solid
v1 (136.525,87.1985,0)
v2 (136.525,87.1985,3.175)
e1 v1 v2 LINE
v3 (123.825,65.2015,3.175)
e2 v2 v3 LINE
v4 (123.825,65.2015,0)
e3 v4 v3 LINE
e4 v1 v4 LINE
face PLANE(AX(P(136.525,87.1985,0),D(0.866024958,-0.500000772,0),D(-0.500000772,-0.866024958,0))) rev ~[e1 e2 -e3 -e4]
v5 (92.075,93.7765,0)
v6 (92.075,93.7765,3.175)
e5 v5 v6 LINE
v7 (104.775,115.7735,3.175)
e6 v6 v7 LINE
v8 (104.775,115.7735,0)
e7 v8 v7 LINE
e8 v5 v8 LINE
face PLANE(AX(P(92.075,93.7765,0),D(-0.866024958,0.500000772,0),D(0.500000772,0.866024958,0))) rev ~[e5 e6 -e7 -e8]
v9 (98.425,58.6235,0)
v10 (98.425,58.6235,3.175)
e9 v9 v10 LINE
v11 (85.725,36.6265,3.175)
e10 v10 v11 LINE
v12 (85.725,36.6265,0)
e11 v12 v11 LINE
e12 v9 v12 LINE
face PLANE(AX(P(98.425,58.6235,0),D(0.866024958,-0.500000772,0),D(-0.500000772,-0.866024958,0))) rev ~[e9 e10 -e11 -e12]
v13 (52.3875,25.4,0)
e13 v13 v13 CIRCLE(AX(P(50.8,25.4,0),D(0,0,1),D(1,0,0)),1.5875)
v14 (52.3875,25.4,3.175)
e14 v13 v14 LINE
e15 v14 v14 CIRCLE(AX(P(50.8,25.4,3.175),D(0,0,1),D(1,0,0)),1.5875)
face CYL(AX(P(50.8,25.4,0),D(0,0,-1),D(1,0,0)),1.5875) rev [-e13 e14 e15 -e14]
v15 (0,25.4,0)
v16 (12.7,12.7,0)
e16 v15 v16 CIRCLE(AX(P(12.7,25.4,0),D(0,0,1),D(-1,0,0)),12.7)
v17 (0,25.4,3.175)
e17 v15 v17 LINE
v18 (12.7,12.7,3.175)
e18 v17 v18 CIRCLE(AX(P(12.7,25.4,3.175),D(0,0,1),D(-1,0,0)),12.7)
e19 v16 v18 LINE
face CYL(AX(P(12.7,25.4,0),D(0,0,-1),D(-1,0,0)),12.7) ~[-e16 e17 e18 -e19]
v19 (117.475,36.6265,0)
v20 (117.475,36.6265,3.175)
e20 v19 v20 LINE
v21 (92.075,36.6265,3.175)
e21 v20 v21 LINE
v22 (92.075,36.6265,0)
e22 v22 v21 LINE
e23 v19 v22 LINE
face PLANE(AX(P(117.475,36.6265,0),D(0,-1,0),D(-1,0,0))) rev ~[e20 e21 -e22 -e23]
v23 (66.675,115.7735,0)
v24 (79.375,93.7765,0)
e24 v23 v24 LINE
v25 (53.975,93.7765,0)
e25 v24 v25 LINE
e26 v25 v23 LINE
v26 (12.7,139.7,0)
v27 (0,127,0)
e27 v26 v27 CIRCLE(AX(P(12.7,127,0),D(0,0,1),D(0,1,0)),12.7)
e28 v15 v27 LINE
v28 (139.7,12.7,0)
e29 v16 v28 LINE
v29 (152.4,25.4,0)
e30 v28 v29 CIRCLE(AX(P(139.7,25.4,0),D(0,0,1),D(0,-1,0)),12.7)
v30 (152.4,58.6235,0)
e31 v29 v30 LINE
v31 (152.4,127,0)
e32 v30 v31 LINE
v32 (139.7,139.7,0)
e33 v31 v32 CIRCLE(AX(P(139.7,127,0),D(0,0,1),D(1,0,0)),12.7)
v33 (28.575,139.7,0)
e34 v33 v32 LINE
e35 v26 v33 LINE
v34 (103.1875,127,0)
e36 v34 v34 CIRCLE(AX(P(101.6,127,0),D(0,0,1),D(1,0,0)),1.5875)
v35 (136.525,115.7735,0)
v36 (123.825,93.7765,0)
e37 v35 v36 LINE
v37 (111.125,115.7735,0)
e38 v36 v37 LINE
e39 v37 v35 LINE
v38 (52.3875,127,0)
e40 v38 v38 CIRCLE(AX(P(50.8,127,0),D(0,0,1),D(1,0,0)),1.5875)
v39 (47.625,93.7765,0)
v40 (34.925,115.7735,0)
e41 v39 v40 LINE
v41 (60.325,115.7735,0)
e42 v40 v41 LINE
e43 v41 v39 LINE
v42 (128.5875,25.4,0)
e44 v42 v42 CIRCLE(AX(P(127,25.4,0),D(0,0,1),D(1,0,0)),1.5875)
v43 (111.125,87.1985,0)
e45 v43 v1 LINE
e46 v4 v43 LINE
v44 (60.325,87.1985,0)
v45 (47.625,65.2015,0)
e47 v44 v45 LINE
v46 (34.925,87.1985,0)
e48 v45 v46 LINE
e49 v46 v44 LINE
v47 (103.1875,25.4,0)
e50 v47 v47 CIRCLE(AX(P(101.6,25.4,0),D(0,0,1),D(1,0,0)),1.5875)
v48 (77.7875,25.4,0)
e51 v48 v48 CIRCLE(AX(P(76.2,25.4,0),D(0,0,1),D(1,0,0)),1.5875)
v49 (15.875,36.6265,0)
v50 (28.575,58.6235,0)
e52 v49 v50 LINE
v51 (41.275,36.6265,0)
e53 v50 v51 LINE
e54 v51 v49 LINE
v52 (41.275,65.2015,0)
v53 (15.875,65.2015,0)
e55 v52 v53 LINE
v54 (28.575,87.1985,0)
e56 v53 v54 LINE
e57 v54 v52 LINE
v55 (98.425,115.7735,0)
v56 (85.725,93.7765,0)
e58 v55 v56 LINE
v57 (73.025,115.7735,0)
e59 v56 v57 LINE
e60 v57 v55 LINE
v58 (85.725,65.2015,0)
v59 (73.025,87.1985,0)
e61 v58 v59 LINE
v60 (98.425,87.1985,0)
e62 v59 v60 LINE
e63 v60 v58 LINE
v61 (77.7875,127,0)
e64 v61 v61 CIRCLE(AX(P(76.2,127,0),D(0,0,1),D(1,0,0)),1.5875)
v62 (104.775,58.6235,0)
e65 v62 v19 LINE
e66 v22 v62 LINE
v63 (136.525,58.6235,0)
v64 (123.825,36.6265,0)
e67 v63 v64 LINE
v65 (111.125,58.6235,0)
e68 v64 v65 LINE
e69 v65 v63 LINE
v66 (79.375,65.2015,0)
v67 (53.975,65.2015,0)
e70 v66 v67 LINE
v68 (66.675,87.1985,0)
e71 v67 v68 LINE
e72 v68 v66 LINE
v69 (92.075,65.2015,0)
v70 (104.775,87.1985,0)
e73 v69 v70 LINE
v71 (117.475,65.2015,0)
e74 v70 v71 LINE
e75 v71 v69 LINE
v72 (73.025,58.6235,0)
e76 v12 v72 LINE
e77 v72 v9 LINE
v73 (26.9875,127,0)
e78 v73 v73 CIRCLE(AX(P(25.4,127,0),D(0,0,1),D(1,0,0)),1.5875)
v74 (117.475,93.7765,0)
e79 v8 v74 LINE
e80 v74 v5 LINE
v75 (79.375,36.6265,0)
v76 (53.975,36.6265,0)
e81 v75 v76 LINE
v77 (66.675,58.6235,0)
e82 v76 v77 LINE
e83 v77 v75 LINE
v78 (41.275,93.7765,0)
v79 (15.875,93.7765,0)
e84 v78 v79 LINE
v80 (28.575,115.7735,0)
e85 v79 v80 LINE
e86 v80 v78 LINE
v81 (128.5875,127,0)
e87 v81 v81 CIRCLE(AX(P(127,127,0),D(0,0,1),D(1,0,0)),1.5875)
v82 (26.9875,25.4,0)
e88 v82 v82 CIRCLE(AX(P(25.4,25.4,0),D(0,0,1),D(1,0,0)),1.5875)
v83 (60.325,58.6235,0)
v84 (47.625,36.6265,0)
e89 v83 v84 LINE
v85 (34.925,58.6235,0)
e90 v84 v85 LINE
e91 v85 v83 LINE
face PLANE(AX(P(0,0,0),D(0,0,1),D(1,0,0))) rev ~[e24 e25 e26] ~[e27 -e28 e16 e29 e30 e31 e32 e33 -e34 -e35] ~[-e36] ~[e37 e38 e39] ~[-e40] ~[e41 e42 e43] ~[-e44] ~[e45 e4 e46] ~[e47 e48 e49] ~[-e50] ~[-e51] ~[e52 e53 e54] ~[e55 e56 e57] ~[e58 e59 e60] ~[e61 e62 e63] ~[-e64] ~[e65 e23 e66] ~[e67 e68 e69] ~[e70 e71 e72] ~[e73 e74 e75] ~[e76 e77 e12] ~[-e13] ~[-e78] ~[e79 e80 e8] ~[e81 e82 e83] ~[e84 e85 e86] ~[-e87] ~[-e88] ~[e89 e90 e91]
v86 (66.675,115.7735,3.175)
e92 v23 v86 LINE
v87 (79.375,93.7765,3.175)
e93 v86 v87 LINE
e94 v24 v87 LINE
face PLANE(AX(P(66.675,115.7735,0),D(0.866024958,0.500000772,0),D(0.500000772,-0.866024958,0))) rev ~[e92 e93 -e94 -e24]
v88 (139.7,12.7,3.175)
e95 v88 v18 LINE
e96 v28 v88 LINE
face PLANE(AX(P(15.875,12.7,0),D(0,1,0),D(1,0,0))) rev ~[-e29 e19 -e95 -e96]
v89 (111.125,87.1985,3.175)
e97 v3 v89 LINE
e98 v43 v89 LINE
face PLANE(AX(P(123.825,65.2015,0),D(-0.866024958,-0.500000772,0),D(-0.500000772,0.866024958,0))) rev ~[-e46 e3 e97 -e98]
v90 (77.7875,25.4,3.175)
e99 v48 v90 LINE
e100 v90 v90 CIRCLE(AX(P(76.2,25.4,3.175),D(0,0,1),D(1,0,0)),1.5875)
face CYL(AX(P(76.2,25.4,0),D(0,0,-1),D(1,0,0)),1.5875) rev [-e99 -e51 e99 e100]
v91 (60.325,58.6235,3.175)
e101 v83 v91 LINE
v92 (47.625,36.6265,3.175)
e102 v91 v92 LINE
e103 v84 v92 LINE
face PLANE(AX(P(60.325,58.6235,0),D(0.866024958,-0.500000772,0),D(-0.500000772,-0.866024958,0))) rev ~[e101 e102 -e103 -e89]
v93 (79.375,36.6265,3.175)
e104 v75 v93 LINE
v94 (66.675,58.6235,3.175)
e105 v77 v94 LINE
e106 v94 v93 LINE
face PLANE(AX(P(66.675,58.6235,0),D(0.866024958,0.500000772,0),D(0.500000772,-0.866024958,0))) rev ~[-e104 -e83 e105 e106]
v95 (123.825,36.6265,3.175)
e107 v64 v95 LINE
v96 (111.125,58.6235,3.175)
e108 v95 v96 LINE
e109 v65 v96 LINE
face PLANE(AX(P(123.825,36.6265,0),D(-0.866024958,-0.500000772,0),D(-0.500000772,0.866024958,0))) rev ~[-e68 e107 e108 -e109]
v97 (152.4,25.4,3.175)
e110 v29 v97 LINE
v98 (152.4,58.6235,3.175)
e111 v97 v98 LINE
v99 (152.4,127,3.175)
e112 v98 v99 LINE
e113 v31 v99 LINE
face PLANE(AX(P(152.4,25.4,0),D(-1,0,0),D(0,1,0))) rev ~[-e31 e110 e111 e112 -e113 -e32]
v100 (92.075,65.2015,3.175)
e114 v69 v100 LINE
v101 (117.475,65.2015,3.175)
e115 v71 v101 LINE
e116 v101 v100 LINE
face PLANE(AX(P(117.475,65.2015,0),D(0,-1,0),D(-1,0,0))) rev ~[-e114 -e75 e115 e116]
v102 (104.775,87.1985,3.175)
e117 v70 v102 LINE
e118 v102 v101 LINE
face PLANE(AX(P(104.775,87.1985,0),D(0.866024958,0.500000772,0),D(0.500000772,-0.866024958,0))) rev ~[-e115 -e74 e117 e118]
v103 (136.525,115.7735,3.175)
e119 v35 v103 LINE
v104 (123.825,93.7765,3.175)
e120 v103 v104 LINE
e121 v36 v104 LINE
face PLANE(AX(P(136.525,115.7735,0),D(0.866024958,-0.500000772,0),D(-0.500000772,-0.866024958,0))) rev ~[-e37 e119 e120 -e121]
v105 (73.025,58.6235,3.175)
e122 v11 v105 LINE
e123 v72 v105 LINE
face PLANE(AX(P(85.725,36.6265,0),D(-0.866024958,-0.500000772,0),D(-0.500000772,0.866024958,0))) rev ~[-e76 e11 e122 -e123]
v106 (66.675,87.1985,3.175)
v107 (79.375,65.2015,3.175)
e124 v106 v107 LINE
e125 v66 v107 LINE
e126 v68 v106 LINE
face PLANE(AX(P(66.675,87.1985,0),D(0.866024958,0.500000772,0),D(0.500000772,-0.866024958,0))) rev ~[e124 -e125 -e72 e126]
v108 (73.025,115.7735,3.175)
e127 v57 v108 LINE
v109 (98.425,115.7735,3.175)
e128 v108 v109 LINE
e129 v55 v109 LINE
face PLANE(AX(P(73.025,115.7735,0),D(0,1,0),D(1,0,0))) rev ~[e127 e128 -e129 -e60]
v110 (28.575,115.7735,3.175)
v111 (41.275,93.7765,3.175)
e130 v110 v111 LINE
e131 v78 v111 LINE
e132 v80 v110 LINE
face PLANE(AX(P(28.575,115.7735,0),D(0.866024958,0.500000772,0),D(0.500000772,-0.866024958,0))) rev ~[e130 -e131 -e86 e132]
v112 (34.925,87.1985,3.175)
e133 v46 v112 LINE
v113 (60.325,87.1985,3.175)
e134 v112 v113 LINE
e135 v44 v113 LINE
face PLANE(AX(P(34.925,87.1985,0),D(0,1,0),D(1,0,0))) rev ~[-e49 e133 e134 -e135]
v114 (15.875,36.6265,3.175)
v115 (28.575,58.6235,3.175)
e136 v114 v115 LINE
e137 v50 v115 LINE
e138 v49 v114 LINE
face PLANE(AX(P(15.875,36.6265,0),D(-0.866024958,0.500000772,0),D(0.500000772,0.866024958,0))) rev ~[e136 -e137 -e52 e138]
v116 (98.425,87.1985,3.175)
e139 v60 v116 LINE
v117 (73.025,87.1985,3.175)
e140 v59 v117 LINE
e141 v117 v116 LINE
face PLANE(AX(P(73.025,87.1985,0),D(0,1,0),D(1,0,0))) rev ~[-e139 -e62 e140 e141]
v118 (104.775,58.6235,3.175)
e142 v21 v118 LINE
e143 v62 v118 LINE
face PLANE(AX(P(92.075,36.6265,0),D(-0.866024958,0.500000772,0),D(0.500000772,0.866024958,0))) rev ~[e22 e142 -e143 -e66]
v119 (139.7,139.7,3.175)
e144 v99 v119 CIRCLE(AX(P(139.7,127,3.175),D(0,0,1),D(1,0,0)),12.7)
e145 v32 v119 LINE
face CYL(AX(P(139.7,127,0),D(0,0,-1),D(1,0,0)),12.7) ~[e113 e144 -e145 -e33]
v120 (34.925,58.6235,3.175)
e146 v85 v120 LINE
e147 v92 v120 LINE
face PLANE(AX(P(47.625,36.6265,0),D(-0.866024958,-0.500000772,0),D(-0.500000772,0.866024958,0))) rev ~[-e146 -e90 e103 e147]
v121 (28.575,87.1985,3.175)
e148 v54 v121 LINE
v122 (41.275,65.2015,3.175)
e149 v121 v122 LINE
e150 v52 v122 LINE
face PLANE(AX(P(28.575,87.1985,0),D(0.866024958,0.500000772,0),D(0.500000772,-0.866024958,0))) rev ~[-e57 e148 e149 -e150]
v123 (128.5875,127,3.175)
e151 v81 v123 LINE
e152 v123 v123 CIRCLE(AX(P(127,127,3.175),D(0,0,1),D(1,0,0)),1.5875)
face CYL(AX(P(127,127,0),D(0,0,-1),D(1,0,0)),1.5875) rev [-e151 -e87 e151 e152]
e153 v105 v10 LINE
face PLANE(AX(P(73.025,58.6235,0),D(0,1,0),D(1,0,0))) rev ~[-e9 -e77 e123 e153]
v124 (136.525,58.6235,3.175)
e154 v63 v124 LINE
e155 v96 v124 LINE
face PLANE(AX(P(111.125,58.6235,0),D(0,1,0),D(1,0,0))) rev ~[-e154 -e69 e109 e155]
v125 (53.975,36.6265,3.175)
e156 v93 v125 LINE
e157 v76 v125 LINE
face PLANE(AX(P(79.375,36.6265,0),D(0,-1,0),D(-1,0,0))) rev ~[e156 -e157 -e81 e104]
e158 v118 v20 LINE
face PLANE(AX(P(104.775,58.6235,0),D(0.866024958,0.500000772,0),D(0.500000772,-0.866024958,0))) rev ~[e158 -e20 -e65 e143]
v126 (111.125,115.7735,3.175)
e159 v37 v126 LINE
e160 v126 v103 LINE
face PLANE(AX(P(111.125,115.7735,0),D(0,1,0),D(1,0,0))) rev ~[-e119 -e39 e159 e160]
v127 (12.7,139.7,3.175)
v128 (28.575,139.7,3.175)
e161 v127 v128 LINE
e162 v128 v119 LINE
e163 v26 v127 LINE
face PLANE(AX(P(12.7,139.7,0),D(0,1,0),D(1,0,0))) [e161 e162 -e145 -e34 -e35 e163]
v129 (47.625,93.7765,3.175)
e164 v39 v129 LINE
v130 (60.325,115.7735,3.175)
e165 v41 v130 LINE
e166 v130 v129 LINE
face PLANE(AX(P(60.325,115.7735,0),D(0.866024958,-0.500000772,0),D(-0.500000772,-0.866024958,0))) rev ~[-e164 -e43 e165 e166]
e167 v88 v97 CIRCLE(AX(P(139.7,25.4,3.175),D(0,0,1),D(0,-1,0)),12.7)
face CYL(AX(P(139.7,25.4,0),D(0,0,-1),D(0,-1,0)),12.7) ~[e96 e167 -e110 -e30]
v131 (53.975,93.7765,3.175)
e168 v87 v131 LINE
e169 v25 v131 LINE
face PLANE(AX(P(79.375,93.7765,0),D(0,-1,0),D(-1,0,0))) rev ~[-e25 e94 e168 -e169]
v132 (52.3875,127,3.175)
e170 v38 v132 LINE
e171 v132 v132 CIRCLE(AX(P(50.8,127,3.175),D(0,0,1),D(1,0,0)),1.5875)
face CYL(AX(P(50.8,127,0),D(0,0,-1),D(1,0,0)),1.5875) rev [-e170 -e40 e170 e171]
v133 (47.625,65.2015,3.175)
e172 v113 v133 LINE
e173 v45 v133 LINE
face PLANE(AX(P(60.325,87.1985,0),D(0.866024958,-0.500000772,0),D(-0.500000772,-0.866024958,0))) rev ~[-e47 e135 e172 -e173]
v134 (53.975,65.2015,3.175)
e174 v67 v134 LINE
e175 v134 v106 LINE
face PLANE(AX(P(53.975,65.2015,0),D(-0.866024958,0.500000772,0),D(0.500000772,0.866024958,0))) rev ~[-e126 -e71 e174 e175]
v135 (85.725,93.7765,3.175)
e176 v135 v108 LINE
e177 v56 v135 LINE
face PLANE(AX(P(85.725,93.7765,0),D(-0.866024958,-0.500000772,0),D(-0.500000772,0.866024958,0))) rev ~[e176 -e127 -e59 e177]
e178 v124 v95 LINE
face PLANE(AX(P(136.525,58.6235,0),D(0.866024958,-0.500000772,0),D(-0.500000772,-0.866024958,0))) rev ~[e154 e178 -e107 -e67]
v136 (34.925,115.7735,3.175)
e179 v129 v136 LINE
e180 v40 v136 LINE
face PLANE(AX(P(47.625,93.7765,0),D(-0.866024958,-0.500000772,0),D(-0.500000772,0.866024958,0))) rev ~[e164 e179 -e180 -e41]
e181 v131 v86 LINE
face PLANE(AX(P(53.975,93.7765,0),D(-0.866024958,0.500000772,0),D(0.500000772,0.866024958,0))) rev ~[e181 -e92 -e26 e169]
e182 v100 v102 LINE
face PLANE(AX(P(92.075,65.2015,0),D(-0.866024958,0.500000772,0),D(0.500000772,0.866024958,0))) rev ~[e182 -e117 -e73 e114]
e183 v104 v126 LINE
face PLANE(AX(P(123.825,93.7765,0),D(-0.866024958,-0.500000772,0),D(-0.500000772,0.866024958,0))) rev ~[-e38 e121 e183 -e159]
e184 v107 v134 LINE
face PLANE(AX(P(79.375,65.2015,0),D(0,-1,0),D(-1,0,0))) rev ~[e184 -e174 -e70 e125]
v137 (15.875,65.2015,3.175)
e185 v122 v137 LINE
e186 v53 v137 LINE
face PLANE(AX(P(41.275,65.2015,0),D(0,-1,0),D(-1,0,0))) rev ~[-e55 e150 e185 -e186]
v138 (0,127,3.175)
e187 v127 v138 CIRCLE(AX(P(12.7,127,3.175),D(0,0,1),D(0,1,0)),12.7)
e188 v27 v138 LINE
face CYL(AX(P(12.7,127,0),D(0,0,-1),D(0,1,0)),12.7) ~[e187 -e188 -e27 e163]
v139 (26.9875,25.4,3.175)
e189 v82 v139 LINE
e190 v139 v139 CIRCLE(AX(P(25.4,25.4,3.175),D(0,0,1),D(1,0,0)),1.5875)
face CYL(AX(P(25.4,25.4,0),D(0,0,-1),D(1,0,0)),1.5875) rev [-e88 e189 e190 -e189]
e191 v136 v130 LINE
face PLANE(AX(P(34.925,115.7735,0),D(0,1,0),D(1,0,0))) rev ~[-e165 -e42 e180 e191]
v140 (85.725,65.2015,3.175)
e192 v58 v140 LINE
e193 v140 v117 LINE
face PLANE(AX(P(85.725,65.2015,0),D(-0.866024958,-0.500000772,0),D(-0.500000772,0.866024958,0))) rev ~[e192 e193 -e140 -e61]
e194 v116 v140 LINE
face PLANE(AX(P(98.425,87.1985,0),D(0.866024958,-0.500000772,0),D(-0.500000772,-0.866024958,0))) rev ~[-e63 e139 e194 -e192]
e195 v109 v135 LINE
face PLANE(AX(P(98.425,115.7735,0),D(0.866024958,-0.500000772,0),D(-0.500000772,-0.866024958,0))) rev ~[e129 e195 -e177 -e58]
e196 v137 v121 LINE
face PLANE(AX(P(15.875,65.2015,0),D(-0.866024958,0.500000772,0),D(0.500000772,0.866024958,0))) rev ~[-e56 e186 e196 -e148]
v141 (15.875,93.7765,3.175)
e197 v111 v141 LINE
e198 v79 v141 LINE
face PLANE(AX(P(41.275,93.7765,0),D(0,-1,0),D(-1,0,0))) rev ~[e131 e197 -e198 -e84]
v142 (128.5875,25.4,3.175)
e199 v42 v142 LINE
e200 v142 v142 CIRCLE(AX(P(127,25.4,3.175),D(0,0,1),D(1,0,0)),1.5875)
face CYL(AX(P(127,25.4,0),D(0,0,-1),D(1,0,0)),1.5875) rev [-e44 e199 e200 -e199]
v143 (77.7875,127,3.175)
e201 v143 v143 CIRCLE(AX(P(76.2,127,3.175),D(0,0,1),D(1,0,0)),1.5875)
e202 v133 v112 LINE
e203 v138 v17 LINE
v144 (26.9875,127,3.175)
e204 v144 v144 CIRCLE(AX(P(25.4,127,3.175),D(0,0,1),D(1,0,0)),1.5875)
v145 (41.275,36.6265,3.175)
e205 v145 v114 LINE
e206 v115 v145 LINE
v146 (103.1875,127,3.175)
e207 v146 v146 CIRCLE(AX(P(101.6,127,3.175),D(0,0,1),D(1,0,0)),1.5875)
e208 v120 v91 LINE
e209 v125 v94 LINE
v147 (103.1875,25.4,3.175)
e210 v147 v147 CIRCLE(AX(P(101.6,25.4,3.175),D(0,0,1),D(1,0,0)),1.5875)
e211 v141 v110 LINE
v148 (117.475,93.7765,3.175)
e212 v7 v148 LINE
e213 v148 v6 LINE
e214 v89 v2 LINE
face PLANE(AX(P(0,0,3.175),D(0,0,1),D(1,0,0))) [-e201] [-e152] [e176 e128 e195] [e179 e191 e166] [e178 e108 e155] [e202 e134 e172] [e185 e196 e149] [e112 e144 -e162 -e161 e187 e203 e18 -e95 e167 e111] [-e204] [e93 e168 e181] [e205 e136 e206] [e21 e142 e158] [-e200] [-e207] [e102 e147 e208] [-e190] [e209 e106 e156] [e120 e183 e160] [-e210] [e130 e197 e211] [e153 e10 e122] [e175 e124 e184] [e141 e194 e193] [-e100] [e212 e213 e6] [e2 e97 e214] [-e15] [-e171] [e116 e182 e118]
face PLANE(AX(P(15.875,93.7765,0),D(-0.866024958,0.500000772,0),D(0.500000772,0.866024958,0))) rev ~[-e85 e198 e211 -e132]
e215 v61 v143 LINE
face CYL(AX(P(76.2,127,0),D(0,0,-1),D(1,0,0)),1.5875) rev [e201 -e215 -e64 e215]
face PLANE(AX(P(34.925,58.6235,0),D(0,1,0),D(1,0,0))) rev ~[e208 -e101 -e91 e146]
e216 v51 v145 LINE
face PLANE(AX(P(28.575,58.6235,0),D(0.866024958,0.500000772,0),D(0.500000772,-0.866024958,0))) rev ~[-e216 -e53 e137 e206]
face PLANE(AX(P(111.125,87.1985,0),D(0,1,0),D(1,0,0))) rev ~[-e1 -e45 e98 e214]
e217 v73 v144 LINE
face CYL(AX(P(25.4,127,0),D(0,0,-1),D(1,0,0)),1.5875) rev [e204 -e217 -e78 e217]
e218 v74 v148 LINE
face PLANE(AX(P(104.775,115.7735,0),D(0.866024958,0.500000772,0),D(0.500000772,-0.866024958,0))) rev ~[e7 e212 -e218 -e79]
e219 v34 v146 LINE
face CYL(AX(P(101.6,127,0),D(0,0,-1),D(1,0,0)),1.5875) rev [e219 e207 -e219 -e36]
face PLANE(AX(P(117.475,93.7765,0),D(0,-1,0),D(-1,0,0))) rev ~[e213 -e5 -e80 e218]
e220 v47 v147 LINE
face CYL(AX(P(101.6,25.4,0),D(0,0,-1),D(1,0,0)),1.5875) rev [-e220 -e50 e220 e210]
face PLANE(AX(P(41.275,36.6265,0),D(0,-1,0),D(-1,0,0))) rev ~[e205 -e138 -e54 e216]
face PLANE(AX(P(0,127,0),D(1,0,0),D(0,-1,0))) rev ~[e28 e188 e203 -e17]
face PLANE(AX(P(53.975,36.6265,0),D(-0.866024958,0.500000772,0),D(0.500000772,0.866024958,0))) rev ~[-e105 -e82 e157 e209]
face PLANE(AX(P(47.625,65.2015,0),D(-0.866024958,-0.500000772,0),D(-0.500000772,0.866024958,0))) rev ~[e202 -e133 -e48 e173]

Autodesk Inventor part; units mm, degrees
ref_plane "YZ Plane" through (0, 0, 0) normal (1, 0, 0) x (0, 1, 0)
ref_plane "XZ Plane" through (0, 0, 0) normal (0, 1, 0) x (-1, 0, 0)
ref_plane "XY Plane" through (0, 0, 0) normal (0, 0, 1) x (1, 0, 0)
sketch "Sketch1" plane through (0, 0, 0) normal (0, 0, 1) x (1, 0, 0)
  line L0 (0, 0) -> (152.4, 0)
  line L1 (152.4, 25.4) -> (152.4, 127)
  line L2 (152.4, 152.4) -> (0, 152.4)
  line L3 (0, 127) -> (0, 25.4)
  circle A0 centre (25.4, 127) radius 1.5875
  circle A1 centre (50.8, 127) radius 1.5875
  circle A2 centre (76.2, 127) radius 1.5875
  circle A3 centre (101.6, 127) radius 1.5875
  circle A4 centre (127, 127) radius 1.5875
  circle A5 centre (25.4, 25.4) radius 1.5875
  circle A6 centre (50.8, 25.4) radius 1.5875
  circle A7 centre (76.2, 25.4) radius 1.5875
  circle A8 centre (101.6, 25.4) radius 1.5875
  circle A9 centre (127, 25.4) radius 1.5875
  line L4 (41.275, 36.6265) -> (15.875, 36.6265)
  line L5 (15.875, 36.6265) -> (28.575, 58.6235)
  line L6 (28.575, 58.6235) -> (41.275, 36.6265)
  line L7 (60.325, 58.6235) -> (47.625, 36.6265)
  line L8 (47.625, 36.6265) -> (34.925, 58.6235)
  line L9 (34.925, 58.6235) -> (60.325, 58.6235)
  line L10 (98.425, 58.6235) -> (85.725, 36.6265)
  line L11 (73.025, 58.6235) -> (98.425, 58.6235)
  line L12 (85.725, 36.6265) -> (73.025, 58.6235)
  line L13 (66.675, 58.6235) -> (79.375, 36.6265)
  line L14 (53.975, 36.6265) -> (66.675, 58.6235)
  line L15 (79.375, 36.6265) -> (53.975, 36.6265)
  line L16 (136.525, 58.6235) -> (123.825, 36.6265)
  line L17 (111.125, 58.6235) -> (136.525, 58.6235)
  line L18 (123.825, 36.6265) -> (111.125, 58.6235)
  line L19 (104.775, 58.6235) -> (117.475, 36.6265)
  line L20 (92.075, 36.6265) -> (104.775, 58.6235)
  line L21 (117.475, 36.6265) -> (92.075, 36.6265)
  line L22 (0, 36.6265) -> (15.875, 36.6265)
  line L23 (136.525, 58.6235) -> (152.4, 58.6235)
  line L24 (104.775, 87.1985) -> (117.475, 65.2015)
  line L25 (123.825, 65.2015) -> (111.125, 87.1985)
  line L26 (136.525, 87.1985) -> (123.825, 65.2015)
  line L27 (111.125, 87.1985) -> (136.525, 87.1985)
  line L28 (117.475, 65.2015) -> (92.075, 65.2015)
  line L29 (41.275, 65.2015) -> (15.875, 65.2015)
  line L30 (15.875, 65.2015) -> (28.575, 87.1985)
  line L31 (28.575, 87.1985) -> (41.275, 65.2015)
  line L32 (60.325, 87.1985) -> (47.625, 65.2015)
  line L33 (47.625, 65.2015) -> (34.925, 87.1985)
  line L34 (34.925, 87.1985) -> (60.325, 87.1985)
  line L35 (92.075, 65.2015) -> (104.775, 87.1985)
  line L36 (73.025, 87.1985) -> (98.425, 87.1985)
  line L37 (85.725, 65.2015) -> (73.025, 87.1985)
  line L38 (66.675, 87.1985) -> (79.375, 65.2015)
  line L39 (53.975, 65.2015) -> (66.675, 87.1985)
  line L40 (79.375, 65.2015) -> (53.975, 65.2015)
  line L41 (98.425, 87.1985) -> (85.725, 65.2015)
  line L42 (104.775, 115.7735) -> (117.475, 93.7765)
  line L43 (123.825, 93.7765) -> (111.125, 115.7735)
  line L44 (136.525, 115.7735) -> (123.825, 93.7765)
  line L45 (111.125, 115.7735) -> (136.525, 115.7735)
  line L46 (117.475, 93.7765) -> (92.075, 93.7765)
  line L47 (41.275, 93.7765) -> (15.875, 93.7765)
  line L48 (15.875, 93.7765) -> (28.575, 115.7735)
  line L49 (28.575, 115.7735) -> (41.275, 93.7765)
  line L50 (60.325, 115.7735) -> (47.625, 93.7765)
  line L51 (47.625, 93.7765) -> (34.925, 115.7735)
  line L52 (34.925, 115.7735) -> (60.325, 115.7735)
  line L53 (92.075, 93.7765) -> (104.775, 115.7735)
  line L54 (73.025, 115.7735) -> (98.425, 115.7735)
  line L55 (85.725, 93.7765) -> (73.025, 115.7735)
  line L56 (66.675, 115.7735) -> (79.375, 93.7765)
  line L57 (53.975, 93.7765) -> (66.675, 115.7735)
  line L58 (79.375, 93.7765) -> (53.975, 93.7765)
  line L59 (98.425, 115.7735) -> (85.725, 93.7765)
  line L60 (15.875, 36.6265) -> (15.875, 0)
  line L61 (28.575, 115.7735) -> (28.575, 152.4)
  line L62 (12.7, 12.7) -> (139.7, 12.7)
  line L63 (12.7, 139.7) -> (139.7, 139.7)
  arc A10 (0, 25.4) -> (12.7, 12.7) centre (12.7, 25.4) ccw
  arc A11 (139.7, 12.7) -> (152.4, 25.4) centre (139.7, 25.4) ccw
  arc A12 (152.4, 127) -> (139.7, 139.7) centre (139.7, 127) ccw
  arc A13 (12.7, 139.7) -> (0, 127) centre (12.7, 127) ccw
  point P0 (28.575, 43.9588)
  point P1 (28.575, 36.6265)
  point P2 (47.625, 51.2912)
  point P3 (85.725, 51.2912)
  point P4 (66.675, 43.9588)
  point P5 (66.675, 36.6265)
  point P6 (123.825, 51.2912)
  point P7 (104.775, 43.9588)
  point P8 (104.775, 36.6265)
  point P9 (123.825, 79.8662)
  point P10 (104.775, 65.2015)
  point P11 (28.575, 72.5338)
  point P12 (28.575, 65.2015)
  point P13 (47.625, 79.8662)
  point P14 (104.775, 72.5338)
  point P15 (85.725, 79.8662)
  point P16 (66.675, 72.5338)
  point P17 (66.675, 65.2015)
  point P18 (123.825, 108.4412)
  point P19 (104.775, 93.7765)
  point P20 (28.575, 101.1088)
  point P21 (28.575, 93.7765)
  point P22 (47.625, 108.4412)
  point P23 (104.775, 101.1088)
  point P24 (85.725, 108.4412)
  point P25 (66.675, 101.1088)
  point P26 (66.675, 93.7765)
  dimension "d0" = 152.4
  dimension "d1" = 152.4
  dimension "d2" = 3.175
  dimension "d3" = 25.4
  dimension "d4" = 25.4
  dimension "d7" = 25.4
  dimension "d12" = 3.175
  dimension "d13" = 25.4
  dimension "d14" = 25.4
  dimension "d17" = 25.4
  dimension "d22" = 25.4
  dimension "d23" = 25.4
  dimension "d24" = 0
  dimension "d25" = 6.35
  dimension "d29" = 38.1
  dimension "d37" = 28.575
  dimension "d42" = 12.7
  dimension "d43" = 12.7
  dimension "d44" = 12.7
extrude "Extrusion1" add sketch "Sketch1" along normal blind 3.175
properties part number "Low Frame to Mid Frame bracket"
